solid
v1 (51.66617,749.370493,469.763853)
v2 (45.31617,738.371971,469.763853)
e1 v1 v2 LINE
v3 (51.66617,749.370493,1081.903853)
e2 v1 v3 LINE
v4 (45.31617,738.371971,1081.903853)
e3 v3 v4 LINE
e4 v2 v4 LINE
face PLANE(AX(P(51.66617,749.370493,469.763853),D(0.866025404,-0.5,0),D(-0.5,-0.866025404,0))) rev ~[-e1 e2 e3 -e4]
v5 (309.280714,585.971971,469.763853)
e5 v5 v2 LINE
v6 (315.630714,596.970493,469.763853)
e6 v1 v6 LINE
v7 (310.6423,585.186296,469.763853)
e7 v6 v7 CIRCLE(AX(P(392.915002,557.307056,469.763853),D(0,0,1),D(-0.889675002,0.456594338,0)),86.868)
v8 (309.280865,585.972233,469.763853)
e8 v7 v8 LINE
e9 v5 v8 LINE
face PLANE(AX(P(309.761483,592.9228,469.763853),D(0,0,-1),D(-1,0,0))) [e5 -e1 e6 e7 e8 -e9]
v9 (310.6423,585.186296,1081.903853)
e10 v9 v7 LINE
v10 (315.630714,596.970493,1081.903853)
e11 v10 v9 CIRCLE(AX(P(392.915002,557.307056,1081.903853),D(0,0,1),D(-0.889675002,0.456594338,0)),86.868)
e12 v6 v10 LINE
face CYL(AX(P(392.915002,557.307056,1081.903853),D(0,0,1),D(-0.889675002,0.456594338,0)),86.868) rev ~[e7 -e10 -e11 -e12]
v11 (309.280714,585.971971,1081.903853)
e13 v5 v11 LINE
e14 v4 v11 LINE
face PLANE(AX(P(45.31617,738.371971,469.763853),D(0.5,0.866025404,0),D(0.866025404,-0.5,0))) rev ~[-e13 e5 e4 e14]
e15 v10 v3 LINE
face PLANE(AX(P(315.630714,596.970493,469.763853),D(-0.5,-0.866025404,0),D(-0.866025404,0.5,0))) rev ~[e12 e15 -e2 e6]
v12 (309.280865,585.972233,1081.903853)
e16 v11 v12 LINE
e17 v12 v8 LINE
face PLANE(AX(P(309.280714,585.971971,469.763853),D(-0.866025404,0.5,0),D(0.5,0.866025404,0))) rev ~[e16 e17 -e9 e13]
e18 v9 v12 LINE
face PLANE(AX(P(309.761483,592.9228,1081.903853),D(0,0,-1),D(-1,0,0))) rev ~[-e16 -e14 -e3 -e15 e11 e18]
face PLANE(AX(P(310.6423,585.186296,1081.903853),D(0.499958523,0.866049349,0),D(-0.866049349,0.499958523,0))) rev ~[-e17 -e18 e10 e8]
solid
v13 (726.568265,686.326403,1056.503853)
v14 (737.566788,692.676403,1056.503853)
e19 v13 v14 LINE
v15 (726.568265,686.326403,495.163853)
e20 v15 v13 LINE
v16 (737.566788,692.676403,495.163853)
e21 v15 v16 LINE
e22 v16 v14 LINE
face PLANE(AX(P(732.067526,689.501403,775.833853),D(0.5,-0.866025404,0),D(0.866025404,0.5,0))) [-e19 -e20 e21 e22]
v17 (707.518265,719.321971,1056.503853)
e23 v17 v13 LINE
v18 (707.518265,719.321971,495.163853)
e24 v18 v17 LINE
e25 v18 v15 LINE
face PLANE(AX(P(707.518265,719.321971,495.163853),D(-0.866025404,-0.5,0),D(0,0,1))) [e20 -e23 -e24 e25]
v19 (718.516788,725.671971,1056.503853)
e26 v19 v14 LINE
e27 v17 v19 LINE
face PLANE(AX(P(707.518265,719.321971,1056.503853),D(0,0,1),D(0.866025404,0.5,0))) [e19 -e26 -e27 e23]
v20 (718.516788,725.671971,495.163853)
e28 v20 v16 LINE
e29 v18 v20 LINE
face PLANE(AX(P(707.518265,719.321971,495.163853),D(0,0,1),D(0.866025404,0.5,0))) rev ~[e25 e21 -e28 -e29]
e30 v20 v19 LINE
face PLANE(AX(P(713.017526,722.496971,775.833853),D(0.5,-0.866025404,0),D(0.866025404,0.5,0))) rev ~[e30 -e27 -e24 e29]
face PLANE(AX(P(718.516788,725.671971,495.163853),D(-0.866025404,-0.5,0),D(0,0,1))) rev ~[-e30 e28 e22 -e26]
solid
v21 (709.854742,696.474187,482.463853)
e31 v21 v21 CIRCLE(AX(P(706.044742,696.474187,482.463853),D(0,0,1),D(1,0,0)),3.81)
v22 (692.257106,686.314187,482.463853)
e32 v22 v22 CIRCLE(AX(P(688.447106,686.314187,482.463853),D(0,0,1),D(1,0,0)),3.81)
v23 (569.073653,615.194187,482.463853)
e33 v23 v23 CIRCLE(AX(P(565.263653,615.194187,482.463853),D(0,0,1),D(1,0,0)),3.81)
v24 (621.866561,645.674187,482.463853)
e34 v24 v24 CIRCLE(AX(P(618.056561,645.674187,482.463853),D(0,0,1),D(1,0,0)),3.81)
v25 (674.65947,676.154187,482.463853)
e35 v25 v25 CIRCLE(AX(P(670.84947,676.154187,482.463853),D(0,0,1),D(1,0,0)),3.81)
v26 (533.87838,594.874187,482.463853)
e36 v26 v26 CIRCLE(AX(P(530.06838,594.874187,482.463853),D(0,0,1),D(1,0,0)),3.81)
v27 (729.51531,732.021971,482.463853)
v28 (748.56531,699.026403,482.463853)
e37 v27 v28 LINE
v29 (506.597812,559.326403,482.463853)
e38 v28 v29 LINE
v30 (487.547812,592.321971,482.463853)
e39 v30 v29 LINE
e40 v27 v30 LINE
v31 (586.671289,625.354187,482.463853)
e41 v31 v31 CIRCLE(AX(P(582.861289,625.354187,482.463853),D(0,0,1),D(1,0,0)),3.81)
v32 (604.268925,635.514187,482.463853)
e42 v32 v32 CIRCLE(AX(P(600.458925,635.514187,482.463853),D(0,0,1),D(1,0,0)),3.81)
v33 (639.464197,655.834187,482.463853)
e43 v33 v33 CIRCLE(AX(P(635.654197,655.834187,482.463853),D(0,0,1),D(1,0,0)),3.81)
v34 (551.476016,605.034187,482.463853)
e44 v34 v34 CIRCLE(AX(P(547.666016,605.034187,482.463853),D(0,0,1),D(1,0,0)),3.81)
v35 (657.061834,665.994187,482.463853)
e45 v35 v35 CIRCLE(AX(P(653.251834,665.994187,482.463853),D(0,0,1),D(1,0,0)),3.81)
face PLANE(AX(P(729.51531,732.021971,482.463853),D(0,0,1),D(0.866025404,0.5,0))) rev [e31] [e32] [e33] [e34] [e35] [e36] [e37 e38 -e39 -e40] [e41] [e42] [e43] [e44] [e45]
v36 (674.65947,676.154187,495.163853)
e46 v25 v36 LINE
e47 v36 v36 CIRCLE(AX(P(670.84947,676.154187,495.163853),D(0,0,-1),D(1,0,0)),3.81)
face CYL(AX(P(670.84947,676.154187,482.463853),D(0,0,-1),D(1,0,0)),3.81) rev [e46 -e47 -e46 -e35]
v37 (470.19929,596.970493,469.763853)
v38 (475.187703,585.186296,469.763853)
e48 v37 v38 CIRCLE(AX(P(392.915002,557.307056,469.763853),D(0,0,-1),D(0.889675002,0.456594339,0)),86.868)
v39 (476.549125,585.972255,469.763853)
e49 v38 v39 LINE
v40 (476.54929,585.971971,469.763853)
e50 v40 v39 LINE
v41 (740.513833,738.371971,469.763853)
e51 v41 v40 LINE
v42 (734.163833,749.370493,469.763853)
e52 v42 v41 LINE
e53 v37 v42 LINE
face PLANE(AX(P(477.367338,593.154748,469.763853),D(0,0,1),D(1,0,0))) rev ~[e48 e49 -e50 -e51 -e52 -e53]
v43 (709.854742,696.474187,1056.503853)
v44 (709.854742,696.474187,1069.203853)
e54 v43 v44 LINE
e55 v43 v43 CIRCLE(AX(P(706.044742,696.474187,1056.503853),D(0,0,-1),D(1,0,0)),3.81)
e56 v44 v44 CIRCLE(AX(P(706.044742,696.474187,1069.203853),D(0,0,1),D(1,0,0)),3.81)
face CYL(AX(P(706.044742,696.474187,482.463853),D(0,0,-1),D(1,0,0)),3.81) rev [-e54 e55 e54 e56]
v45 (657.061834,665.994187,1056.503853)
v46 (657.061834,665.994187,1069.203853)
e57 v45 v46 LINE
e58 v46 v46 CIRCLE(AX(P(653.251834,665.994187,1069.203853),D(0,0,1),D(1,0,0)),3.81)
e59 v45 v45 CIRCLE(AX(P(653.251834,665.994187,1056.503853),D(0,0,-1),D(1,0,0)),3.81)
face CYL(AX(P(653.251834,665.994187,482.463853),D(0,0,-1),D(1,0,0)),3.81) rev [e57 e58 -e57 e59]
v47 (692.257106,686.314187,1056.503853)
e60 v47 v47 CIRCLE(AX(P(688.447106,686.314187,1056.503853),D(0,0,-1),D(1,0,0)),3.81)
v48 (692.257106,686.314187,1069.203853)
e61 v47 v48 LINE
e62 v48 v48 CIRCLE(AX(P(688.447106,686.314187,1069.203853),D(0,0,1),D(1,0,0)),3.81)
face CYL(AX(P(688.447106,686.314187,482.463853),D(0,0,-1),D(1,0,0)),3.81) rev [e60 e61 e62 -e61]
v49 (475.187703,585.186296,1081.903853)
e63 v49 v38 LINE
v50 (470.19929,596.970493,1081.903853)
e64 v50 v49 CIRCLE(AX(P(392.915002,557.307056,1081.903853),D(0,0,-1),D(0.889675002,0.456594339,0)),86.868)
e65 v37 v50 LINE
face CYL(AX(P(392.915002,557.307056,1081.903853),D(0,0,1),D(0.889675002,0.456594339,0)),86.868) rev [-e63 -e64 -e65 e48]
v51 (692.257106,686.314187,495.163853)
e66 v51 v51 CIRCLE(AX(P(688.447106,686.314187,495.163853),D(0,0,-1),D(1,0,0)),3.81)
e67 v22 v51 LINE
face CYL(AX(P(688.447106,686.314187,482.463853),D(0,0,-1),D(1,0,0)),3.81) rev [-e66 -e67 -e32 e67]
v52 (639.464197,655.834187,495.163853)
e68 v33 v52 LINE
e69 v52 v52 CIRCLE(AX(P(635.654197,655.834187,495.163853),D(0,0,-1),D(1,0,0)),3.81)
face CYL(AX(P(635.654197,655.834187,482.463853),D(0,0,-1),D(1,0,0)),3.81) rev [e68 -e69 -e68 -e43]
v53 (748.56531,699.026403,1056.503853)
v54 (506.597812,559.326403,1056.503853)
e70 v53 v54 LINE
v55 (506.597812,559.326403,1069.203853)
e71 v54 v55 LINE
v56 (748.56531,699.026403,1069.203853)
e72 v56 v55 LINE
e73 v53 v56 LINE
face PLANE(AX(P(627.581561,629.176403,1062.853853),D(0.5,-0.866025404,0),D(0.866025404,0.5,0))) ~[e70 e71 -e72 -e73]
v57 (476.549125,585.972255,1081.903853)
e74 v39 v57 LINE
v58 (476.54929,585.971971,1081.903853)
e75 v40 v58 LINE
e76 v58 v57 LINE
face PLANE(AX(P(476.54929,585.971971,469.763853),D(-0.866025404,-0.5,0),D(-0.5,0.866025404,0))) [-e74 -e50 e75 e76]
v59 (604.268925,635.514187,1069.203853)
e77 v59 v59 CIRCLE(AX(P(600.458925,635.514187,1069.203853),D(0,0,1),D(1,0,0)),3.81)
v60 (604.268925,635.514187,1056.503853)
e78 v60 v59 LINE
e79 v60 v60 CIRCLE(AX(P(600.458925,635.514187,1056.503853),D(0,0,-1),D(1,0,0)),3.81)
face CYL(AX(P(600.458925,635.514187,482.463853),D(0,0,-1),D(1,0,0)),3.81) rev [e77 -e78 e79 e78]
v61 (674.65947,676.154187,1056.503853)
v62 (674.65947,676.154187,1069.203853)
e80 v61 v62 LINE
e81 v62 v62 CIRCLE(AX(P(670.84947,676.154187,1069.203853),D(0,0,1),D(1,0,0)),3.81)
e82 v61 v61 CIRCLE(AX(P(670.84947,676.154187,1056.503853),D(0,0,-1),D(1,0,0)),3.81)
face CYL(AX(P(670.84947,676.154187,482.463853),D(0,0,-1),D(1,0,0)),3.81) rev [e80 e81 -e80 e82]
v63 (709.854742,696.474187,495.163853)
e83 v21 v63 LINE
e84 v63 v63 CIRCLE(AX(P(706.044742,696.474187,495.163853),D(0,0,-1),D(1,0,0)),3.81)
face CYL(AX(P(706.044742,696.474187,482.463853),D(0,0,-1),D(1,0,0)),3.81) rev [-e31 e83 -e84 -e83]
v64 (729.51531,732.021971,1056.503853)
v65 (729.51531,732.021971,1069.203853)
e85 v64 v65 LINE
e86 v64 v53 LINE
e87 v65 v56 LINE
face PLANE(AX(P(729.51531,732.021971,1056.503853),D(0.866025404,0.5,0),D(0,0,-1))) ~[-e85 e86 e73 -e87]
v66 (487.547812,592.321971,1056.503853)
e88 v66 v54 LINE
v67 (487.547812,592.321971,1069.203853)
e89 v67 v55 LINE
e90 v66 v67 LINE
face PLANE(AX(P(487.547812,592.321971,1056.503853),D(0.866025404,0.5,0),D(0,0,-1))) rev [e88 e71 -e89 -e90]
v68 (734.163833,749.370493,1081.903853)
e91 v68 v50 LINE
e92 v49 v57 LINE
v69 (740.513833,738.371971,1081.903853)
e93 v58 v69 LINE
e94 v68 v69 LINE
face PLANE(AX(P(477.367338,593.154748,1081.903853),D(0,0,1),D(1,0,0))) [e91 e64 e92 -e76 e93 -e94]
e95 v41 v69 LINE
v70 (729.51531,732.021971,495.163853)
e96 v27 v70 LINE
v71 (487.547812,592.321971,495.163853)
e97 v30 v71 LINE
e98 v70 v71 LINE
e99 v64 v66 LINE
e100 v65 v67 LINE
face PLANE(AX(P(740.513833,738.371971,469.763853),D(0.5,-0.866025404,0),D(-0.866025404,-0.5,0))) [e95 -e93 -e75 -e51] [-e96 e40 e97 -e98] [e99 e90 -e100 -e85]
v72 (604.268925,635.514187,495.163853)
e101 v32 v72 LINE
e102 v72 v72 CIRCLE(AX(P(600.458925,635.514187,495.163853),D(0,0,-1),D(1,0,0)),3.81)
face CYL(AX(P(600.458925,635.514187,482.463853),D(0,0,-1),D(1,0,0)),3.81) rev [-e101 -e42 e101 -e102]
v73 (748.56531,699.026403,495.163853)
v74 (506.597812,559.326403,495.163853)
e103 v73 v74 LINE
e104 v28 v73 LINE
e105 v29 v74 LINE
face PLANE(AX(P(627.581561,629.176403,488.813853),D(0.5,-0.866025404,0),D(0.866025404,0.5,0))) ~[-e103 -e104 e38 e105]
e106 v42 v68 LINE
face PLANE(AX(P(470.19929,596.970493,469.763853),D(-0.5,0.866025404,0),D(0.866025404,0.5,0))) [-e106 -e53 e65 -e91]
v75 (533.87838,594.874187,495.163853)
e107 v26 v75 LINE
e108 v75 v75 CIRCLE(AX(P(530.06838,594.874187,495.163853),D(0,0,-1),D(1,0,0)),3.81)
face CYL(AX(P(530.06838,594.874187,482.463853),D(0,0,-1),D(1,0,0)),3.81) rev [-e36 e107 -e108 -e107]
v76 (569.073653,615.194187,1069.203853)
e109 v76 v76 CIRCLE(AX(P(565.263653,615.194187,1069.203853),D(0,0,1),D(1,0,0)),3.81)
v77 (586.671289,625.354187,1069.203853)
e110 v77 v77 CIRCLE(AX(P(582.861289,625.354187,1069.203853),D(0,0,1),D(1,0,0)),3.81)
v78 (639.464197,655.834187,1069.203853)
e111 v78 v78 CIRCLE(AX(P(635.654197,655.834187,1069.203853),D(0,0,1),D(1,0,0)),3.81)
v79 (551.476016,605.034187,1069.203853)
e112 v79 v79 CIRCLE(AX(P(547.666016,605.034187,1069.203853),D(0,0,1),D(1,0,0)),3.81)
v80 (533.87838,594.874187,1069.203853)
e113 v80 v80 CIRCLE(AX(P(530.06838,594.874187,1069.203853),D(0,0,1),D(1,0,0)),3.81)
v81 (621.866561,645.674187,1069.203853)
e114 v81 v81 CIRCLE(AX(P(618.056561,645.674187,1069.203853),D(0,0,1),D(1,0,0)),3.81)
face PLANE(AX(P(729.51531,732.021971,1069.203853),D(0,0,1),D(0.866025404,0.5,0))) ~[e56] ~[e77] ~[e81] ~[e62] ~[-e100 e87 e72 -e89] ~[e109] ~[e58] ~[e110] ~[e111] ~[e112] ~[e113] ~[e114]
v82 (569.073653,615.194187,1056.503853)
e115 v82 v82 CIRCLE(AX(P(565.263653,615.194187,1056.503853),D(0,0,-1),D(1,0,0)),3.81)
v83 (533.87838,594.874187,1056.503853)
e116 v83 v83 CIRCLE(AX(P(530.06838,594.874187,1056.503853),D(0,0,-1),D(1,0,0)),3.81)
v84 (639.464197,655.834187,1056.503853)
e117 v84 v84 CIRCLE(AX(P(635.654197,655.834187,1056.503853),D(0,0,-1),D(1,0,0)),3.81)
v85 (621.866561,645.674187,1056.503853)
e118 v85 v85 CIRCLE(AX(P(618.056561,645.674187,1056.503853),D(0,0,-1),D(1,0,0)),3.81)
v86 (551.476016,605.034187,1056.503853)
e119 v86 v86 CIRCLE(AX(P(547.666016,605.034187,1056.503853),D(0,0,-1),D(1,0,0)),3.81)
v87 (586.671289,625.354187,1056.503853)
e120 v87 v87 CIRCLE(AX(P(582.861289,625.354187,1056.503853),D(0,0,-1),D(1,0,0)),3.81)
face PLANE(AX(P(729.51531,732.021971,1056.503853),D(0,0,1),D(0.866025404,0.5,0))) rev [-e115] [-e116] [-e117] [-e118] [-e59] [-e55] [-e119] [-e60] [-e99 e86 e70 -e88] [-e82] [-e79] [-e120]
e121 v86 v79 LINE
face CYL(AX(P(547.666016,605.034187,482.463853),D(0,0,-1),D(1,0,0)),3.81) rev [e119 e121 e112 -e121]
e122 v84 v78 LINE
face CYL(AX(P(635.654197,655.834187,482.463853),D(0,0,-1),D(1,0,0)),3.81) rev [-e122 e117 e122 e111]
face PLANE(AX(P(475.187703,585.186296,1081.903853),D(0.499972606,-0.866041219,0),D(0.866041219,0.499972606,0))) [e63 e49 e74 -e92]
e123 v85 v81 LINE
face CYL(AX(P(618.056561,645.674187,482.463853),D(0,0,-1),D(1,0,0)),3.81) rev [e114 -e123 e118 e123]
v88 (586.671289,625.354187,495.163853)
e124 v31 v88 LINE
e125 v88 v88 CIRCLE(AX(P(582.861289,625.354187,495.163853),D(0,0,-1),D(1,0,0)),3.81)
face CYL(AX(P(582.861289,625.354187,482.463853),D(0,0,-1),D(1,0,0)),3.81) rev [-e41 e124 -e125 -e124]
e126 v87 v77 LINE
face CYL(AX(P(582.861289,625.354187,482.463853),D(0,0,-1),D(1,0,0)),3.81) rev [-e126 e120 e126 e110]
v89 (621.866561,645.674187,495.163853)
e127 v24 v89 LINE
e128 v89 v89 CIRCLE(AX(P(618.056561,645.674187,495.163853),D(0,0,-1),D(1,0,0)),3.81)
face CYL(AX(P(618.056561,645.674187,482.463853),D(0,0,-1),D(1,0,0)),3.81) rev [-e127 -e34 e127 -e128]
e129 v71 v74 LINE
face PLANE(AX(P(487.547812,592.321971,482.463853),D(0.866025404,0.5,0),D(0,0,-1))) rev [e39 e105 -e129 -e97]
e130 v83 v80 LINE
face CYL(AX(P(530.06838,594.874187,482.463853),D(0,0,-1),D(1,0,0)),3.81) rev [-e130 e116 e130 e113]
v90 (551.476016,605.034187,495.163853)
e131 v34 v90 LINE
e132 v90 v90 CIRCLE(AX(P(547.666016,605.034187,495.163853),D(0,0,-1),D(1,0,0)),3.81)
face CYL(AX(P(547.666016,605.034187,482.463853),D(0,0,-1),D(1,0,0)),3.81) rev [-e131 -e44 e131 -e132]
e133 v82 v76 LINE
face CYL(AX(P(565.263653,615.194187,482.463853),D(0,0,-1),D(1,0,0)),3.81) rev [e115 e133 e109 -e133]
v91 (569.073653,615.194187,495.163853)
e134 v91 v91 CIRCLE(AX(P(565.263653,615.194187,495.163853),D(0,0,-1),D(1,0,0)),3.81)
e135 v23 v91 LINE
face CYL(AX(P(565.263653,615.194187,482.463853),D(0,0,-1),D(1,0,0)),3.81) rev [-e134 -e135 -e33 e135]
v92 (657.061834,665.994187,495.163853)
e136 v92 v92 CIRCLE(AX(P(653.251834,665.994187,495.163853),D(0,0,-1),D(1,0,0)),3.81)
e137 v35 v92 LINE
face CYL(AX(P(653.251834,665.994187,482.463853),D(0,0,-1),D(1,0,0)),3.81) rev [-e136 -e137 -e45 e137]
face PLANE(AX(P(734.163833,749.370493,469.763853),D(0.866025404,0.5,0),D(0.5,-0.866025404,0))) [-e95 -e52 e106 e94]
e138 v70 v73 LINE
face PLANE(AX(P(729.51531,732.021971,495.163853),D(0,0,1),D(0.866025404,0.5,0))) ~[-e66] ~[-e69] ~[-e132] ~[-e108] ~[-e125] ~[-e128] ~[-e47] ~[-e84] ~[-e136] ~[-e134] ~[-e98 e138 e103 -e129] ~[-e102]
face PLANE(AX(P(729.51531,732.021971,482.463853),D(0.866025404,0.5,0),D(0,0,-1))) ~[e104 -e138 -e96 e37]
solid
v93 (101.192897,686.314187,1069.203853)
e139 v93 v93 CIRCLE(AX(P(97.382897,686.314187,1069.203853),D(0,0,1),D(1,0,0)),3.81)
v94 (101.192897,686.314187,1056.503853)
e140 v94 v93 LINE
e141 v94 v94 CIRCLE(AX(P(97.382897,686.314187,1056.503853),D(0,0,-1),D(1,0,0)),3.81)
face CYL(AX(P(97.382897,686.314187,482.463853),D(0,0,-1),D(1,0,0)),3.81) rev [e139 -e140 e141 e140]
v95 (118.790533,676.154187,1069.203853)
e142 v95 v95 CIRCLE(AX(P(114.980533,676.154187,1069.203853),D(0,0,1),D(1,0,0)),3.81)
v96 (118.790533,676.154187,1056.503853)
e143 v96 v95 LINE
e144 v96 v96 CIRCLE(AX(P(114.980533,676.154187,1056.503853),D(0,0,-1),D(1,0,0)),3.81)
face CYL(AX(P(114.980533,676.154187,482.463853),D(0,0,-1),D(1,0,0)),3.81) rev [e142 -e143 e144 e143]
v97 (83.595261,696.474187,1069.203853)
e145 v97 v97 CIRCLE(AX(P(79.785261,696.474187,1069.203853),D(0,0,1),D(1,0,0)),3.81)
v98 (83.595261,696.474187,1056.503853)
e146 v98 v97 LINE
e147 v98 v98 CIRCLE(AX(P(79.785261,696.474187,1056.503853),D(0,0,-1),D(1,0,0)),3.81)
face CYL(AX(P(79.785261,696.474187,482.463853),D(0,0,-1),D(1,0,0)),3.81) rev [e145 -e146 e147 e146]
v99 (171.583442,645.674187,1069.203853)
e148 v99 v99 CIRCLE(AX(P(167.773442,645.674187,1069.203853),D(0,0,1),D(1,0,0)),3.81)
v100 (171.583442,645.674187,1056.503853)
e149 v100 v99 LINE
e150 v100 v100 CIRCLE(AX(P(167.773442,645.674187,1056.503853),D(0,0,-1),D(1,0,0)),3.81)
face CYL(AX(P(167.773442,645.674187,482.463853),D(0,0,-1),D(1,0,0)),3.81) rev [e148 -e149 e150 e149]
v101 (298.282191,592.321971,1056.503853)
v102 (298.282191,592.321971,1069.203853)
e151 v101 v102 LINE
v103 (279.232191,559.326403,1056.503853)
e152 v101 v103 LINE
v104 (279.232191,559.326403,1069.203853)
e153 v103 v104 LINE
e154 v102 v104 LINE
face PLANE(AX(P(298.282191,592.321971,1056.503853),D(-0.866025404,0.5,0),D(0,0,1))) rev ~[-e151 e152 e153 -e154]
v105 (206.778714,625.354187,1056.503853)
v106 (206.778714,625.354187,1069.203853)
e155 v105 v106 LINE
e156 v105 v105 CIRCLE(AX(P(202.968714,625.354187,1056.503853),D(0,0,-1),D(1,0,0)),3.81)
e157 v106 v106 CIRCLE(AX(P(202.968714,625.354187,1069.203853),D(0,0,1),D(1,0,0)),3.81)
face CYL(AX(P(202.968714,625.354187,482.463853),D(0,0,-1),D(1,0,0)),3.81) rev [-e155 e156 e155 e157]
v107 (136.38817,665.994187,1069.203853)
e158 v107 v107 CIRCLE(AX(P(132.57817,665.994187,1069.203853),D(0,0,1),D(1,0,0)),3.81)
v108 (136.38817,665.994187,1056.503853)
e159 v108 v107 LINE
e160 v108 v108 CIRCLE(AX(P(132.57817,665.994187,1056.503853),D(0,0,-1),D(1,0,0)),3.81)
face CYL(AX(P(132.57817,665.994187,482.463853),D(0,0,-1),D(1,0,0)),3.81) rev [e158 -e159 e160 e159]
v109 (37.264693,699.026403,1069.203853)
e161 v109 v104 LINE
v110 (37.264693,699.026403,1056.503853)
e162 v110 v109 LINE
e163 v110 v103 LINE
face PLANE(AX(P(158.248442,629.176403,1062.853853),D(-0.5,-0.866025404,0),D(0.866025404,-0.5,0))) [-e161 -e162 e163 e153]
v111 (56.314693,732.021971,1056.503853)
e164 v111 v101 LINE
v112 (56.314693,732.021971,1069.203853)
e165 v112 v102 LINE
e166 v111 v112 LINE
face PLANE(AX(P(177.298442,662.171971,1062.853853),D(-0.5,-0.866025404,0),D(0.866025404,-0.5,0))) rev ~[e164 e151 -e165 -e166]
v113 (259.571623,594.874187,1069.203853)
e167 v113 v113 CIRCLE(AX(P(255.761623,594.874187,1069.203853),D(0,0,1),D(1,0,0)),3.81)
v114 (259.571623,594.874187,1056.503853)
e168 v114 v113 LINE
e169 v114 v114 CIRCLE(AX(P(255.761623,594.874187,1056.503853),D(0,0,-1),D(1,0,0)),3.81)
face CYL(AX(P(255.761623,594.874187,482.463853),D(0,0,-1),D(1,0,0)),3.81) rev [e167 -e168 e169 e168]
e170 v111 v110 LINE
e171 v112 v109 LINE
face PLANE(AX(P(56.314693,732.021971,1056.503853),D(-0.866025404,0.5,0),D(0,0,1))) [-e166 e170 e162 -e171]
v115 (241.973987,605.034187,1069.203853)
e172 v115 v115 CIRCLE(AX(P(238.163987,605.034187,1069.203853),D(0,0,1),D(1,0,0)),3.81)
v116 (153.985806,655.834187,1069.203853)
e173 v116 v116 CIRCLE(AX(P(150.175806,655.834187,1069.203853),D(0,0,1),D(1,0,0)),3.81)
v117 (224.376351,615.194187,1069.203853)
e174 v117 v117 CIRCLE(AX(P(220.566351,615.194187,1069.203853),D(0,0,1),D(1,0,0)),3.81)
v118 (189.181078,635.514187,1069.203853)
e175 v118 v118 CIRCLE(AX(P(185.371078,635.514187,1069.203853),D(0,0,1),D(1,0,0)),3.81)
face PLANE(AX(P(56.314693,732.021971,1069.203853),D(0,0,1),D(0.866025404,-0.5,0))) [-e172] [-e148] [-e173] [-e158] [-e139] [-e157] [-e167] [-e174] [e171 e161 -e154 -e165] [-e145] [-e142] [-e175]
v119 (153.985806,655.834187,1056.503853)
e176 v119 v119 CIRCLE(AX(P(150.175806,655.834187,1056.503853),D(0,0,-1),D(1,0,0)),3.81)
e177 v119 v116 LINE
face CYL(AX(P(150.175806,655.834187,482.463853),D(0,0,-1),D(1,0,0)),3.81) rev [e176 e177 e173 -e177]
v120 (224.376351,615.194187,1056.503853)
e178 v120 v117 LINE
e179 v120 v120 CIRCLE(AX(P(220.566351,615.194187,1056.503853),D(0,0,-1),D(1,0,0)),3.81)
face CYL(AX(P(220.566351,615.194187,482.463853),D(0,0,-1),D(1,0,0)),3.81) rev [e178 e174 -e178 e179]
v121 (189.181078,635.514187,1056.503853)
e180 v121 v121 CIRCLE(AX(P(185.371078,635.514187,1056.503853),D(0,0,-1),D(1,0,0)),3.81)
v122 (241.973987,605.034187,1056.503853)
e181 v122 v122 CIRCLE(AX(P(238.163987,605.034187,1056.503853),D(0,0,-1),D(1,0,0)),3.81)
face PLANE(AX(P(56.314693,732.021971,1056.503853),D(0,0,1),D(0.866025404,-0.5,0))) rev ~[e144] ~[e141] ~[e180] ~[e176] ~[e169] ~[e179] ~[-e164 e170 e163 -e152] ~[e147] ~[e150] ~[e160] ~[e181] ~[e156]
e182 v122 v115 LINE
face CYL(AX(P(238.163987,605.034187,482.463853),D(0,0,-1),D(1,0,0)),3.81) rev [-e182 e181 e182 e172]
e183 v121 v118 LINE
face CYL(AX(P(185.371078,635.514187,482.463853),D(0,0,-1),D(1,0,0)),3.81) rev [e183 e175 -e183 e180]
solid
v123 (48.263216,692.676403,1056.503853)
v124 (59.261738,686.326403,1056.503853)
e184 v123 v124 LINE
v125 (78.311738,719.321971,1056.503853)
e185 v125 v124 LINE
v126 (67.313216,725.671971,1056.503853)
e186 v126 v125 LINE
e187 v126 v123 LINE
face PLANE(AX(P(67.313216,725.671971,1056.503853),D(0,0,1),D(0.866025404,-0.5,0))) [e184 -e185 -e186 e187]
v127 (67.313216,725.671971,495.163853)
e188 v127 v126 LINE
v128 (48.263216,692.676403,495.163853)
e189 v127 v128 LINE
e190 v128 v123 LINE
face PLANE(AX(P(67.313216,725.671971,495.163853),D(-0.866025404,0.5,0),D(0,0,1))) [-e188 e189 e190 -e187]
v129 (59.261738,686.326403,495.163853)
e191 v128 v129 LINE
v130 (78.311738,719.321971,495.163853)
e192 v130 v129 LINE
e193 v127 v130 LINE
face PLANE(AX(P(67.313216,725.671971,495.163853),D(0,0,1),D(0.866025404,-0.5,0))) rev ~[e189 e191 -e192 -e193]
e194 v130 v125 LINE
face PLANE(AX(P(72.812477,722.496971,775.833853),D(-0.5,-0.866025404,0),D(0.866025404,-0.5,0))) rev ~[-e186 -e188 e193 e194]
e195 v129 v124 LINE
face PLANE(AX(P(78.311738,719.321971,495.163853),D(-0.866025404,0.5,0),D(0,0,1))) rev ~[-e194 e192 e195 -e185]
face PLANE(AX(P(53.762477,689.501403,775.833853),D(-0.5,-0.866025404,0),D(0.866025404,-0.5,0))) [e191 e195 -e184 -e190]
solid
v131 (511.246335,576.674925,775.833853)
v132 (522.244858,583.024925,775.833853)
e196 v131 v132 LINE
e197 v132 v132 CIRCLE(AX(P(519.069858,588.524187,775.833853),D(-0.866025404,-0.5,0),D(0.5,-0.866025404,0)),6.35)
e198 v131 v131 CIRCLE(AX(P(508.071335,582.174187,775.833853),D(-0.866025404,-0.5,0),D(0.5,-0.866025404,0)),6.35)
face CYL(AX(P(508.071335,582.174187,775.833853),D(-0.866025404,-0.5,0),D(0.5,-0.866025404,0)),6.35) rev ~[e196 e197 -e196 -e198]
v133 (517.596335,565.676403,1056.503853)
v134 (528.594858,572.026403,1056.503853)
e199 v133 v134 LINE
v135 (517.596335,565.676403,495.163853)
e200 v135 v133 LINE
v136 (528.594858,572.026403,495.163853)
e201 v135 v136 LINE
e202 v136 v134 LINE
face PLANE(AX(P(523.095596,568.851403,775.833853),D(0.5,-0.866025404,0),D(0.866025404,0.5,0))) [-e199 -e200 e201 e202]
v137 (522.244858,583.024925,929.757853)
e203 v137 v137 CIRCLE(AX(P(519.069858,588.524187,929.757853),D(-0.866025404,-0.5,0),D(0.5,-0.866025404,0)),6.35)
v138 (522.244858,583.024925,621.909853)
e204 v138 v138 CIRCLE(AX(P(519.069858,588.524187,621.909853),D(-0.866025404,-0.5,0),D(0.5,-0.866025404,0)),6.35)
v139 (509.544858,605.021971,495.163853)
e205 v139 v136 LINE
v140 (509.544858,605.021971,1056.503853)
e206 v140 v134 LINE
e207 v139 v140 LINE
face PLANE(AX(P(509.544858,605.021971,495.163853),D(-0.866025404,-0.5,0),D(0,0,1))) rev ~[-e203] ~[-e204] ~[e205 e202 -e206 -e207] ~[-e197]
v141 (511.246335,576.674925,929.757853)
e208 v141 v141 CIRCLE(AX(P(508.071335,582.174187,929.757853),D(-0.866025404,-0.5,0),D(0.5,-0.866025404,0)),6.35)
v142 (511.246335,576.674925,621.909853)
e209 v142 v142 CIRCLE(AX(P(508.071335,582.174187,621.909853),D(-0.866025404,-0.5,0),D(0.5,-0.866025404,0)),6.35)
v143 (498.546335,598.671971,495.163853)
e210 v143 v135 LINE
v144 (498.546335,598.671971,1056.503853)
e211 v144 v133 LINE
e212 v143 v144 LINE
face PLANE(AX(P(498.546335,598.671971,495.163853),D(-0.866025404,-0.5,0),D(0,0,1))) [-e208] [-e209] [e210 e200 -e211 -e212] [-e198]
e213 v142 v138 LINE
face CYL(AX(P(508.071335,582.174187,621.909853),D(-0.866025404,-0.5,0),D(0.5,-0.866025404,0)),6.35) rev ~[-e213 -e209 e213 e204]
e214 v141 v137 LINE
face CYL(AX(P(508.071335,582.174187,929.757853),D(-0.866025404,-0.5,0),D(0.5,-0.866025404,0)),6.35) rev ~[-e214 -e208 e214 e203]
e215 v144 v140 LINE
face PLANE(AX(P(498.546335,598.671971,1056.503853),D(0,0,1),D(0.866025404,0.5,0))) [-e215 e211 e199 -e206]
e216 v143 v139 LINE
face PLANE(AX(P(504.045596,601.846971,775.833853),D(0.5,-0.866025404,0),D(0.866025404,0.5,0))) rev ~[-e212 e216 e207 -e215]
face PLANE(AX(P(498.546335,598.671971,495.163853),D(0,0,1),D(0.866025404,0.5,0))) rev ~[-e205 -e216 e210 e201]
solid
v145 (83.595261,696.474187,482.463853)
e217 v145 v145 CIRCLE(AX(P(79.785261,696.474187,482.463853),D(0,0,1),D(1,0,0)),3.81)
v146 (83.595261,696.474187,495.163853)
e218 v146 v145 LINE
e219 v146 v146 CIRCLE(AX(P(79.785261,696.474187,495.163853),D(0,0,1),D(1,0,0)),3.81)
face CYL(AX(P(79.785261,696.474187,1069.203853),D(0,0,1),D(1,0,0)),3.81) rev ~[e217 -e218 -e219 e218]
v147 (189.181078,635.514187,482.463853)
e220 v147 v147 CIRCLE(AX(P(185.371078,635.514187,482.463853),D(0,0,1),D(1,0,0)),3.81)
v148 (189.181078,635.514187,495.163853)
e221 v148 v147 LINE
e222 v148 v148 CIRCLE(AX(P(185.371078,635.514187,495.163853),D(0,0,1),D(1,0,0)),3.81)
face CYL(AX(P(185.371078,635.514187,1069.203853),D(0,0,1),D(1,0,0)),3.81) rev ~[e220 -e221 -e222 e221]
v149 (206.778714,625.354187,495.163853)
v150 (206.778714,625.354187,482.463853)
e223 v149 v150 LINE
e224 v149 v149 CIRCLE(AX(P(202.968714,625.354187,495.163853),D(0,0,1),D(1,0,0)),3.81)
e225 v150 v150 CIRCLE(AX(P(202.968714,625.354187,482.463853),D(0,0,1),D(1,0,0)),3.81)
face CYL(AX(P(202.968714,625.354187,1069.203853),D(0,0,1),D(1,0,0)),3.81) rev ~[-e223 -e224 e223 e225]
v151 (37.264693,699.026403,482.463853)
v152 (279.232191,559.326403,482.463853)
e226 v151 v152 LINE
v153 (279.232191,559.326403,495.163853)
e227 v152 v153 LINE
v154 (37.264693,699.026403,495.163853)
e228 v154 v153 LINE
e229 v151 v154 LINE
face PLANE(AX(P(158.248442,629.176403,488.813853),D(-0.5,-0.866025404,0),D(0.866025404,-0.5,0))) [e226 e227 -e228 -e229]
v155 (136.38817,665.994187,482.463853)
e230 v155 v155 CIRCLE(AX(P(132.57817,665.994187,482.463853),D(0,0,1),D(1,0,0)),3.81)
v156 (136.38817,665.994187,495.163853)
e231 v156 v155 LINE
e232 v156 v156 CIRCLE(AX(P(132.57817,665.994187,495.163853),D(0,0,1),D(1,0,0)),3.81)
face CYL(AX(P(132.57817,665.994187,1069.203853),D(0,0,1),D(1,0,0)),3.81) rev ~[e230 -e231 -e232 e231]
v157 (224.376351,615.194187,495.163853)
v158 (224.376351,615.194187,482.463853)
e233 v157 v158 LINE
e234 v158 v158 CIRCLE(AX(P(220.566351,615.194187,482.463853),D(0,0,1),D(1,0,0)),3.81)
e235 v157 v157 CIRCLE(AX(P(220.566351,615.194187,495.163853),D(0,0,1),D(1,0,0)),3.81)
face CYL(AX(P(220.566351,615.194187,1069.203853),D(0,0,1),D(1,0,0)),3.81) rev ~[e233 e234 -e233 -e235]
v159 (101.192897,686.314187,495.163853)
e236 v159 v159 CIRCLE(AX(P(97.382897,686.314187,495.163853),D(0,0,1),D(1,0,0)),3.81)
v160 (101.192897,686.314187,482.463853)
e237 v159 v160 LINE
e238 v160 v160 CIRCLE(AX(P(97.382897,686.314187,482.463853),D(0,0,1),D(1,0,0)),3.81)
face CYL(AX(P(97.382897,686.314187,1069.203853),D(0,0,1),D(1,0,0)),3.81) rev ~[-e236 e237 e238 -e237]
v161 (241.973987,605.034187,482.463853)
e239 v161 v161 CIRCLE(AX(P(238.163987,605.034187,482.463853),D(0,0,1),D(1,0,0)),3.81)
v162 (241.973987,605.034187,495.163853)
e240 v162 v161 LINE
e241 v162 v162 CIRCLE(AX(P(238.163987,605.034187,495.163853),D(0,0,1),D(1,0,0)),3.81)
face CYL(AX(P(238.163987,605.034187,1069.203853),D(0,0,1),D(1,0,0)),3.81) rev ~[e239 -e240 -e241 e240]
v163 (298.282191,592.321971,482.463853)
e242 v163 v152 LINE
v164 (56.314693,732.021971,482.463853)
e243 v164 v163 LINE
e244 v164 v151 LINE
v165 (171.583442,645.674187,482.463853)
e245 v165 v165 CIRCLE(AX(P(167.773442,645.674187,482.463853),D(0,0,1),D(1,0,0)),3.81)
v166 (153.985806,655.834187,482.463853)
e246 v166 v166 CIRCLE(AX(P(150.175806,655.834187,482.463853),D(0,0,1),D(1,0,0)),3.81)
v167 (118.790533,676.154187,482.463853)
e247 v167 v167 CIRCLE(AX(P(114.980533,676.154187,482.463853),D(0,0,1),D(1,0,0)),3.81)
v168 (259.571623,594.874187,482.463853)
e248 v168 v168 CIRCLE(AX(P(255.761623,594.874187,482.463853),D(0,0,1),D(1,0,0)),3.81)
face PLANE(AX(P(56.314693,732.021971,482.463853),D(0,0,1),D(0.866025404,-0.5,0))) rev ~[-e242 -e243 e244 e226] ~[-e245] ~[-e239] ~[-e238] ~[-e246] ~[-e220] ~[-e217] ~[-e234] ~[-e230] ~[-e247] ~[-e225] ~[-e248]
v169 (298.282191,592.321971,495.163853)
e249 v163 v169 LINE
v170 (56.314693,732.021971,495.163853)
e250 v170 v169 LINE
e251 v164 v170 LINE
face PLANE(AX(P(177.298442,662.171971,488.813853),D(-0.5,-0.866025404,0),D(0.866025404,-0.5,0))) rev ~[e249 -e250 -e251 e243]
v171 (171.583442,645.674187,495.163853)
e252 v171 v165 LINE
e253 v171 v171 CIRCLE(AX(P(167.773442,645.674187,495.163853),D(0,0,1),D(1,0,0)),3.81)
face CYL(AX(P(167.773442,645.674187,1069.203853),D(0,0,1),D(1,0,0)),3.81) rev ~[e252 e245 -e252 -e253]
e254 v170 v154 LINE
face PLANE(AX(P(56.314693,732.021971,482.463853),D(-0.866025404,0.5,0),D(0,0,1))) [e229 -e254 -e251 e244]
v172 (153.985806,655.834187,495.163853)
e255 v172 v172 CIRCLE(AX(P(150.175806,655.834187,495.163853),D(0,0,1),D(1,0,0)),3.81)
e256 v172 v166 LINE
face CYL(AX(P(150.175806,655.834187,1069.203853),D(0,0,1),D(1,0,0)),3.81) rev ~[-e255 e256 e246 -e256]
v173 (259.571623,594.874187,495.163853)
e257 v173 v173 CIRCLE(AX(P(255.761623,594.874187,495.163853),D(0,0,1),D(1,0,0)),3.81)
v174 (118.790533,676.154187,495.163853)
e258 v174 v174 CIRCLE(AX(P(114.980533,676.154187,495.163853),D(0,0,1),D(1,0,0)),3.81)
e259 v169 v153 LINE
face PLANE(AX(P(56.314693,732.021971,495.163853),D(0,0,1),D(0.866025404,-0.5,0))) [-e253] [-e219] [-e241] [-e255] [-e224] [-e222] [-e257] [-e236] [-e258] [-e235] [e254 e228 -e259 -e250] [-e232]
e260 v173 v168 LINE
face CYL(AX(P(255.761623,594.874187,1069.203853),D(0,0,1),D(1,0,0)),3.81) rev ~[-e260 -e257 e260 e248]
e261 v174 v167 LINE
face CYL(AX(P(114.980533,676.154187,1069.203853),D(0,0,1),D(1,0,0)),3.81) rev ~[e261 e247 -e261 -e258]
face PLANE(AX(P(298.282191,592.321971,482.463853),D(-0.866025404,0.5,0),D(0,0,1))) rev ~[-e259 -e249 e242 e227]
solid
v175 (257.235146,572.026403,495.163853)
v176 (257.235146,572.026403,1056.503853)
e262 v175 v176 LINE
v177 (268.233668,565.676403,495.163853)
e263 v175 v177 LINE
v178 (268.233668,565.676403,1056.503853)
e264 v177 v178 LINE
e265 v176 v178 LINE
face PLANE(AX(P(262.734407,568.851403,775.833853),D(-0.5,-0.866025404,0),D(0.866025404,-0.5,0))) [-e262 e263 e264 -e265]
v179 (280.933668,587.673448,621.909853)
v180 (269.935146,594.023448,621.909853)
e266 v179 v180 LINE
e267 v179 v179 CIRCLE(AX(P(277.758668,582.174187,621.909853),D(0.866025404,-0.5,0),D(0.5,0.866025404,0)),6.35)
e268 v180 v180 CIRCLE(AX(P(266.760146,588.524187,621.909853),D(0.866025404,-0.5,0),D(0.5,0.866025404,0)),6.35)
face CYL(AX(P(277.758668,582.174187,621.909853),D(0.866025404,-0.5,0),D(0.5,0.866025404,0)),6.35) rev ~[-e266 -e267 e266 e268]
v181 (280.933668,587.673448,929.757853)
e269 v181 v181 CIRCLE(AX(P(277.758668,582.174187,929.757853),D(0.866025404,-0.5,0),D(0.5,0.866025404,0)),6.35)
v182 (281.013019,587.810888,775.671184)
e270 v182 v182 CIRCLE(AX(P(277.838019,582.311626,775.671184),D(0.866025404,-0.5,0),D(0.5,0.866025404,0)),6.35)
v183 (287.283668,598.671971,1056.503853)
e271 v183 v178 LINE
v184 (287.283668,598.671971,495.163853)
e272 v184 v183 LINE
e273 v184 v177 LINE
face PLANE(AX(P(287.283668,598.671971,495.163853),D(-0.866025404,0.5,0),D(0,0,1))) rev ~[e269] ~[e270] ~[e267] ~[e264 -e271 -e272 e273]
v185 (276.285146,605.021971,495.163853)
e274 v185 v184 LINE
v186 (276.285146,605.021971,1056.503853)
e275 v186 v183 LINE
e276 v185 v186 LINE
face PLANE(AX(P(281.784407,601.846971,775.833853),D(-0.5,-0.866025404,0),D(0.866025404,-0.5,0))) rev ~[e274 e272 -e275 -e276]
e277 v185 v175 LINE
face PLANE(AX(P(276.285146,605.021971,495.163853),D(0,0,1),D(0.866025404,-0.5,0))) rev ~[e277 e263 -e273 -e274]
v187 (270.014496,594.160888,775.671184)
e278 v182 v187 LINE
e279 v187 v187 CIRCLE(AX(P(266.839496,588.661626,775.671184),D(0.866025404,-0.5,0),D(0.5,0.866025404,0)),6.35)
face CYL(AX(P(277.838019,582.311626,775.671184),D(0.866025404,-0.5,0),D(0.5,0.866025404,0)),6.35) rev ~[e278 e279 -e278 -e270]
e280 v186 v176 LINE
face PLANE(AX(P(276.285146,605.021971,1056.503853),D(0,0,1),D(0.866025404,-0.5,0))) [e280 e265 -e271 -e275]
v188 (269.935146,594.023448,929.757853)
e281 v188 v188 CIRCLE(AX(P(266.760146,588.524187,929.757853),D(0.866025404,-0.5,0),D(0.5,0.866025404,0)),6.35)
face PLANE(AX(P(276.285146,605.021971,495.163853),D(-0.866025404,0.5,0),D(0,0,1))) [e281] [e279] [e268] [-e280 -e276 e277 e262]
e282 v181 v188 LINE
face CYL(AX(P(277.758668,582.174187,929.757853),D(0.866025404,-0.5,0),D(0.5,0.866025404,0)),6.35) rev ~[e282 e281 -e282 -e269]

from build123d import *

# Parameters (mm, degrees)
BOSS_EXTRUDE1_DEPTH        = 273.05
BOSS_EXTRUDE1_DEPTH_BACK   = 339.09
BOSS_EXTRUDE1_2_DEPTH      = 273.05
BOSS_EXTRUDE1_2_DEPTH_BACK = 339.09
SKETCH2_W                  = 279.4
SKETCH2_H                  = 12.7
BOSS_EXTRUDE2_DEPTH        = 38.1
BOSS_EXTRUDE2_2_DEPTH      = 38.1
SKETCH3_W                  = 12.7
SKETCH3_H                  = 561.34
BOSS_EXTRUDE3_DEPTH        = 38.1
BOSS_EXTRUDE3_2_DEPTH      = 38.1
SKETCH5_W                  = 12.7
SKETCH5_H                  = 561.34
BOSS_EXTRUDE4_DEPTH        = 38.1
BOSS_EXTRUDE4_2_DEPTH      = 38.1
SKETCH6_R                  = 6.35
CUT_EXTRUDE1_DEPTH         = 12.7
SKETCH7_R                  = 6.35
CUT_EXTRUDE2_DEPTH         = 12.7
UNNECESSARY_DETAIL_DEPTH   = 612.14
CUT_EXTRUDE3_START         = -586.74
SKETCH9_R                  = 3.81
CUT_EXTRUDE3_DEPTH         = 586.74


with BuildPart() as part:
    # Sketch1 → Boss-Extrude1 (new, two sides: drawn at the far end of the back side and taken through both)
    with BuildSketch(Plane(origin=(392.915001613, 557.307056284, 808.85385267), x_dir=(1, 0, 0), z_dir=(0, 0, 1)).offset(-BOSS_EXTRUDE1_DEPTH_BACK)):
        Polygon((77.284288108, 39.663437012), (341.248831182, 192.063437012), (347.598831182, 181.064914384), (83.634288108, 28.664914384), align=None)
    extrude(amount=BOSS_EXTRUDE1_DEPTH + BOSS_EXTRUDE1_DEPTH_BACK)


with BuildPart() as body_2:
    # Sketch1 → Boss-Extrude1 2 (new, two sides: drawn at the far end of the back side and taken through both)
    with BuildSketch(Plane(origin=(392.915001613, 557.307056284, 808.85385267), x_dir=(1, 0, 0), z_dir=(0, 0, 1)).offset(-BOSS_EXTRUDE1_2_DEPTH_BACK)):
        Polygon((-77.284288108, 39.663437012), (-341.248831182, 192.063437012), (-347.598831182, 181.064914384), (-83.634288108, 28.664914384), align=None)
    extrude(amount=BOSS_EXTRUDE1_2_DEPTH + BOSS_EXTRUDE1_2_DEPTH_BACK)


with BuildPart() as body_3:
    # Sketch2 → Boss-Extrude2 (new body)
    with BuildSketch(Plane(origin=(331.053484628, 573.401455399, 0), x_dir=(0.8660254037844372, -0.5000000000000027, 0), z_dir=(-0.5000000000000027, -0.8660254037844372, 0))):
        with Locations((-177.541030539, 1062.85385267)):
            Rectangle(SKETCH2_W, SKETCH2_H)
    boss_extrude2 = extrude(amount=BOSS_EXTRUDE2_DEPTH)


with BuildPart() as body_4:
    # Sketch2 → Boss-Extrude2 2 (new body)
    with BuildSketch(Plane(origin=(331.053484628, 573.401455399, 0), x_dir=(0.8660254037844372, -0.5000000000000027, 0), z_dir=(-0.5000000000000027, -0.8660254037844372, 0))):
        with Locations((-177.541030539, 488.81385267)):
            Rectangle(SKETCH2_W, SKETCH2_H)
    boss_extrude2_2 = extrude(amount=BOSS_EXTRUDE2_2_DEPTH)


with BuildPart() as body_5:
    # Sketch3 → Boss-Extrude3 (new body)
    with BuildSketch(Plane(origin=(331.053484628, 573.401455399, 0), x_dir=(0.8660254037844372, -0.5000000000000027, 0), z_dir=(-0.5000000000000027, -0.8660254037844372, 0))):
        with Locations((-56.891030539, 775.83385267)):
            Rectangle(SKETCH3_W, SKETCH3_H)
    extrude(amount=BOSS_EXTRUDE3_DEPTH)

    # Sketch6 → Cut-Extrude1 (cut)
    with BuildSketch(Plane(origin=(-43.76981638, 25.270515269, 0), x_dir=(0, 0, -1), z_dir=(0.866025403784437, -0.5000000000000028, 0))):
        with Locations(Location((-775.671183514, 643.215670872, 0), (0, 0, 90))):
            Circle(SKETCH6_R)
        with Locations(Location((-621.90985267, 643.056969256, 0), (0, 0, 90))):
            Circle(SKETCH6_R)
        with Locations(Location((-929.75785267, 643.056969256, 0), (0, 0, 90))):
            Circle(SKETCH6_R)
    extrude(amount=-CUT_EXTRUDE1_DEPTH, mode=Mode.SUBTRACT)


with BuildPart() as body_6:
    # Sketch3 → Boss-Extrude3 2 (new body)
    with BuildSketch(Plane(origin=(331.053484628, 573.401455399, 0), x_dir=(0.8660254037844372, -0.5000000000000027, 0), z_dir=(-0.5000000000000027, -0.8660254037844372, 0))):
        with Locations((-298.191030539, 775.83385267)):
            Rectangle(SKETCH3_W, SKETCH3_H)
    extrude(amount=BOSS_EXTRUDE3_2_DEPTH)


with BuildPart() as part_1:
    add(part.part)

    # Mirror1: Boss-Extrude2, Boss-Extrude2 2 across plane
    add(boss_extrude2.mirror(Plane(origin=(392.915001613, 0, 0), x_dir=(0, 0, 1), z_dir=(1, 0, 0))))
    add(boss_extrude2_2.mirror(Plane(origin=(392.915001613, 0, 0), x_dir=(0, 0, 1), z_dir=(1, 0, 0))))

    add(body_2.part)  # Unnecessary Detail merges body 2
    # Sketch8 → Unnecessary Detail (add)
    with BuildSketch(Plane.XY.offset(1081.90385267)):
        with BuildLine():
            Line((310.642299926, 585.186295534), (303.796277895, 589.138411043))
            Line((303.796277895, 589.138411043), (309.256490029, 600.650652935))
            Line((309.256490029, 600.650652935), (315.630713504, 596.970493296))
            ThreePointArc((315.630713504, 596.970493296), (312.919219991, 591.170374885), (310.642299926, 585.186295534))
        make_face()
        with BuildLine():
            Line((475.187703299, 585.186295534), (485.552882068, 591.170197133))
            Line((485.552882068, 591.170197133), (477.229929452, 601.029635038))
            Line((477.229929452, 601.029635038), (470.199289721, 596.970493296))
            ThreePointArc((470.199289721, 596.970493296), (472.910783235, 591.170374885), (475.187703299, 585.186295534))
        make_face()
    extrude(amount=-UNNECESSARY_DETAIL_DEPTH)


with BuildPart() as body_7:
    # Sketch5 → Boss-Extrude4 (new body)
    with BuildSketch(Plane(origin=(-134.595983822, 233.127082474, 0), x_dir=(0.8660254037844386, 0.5000000000000002, 0), z_dir=(0.5000000000000001, -0.8660254037844385, 0))):
        with Locations((737.439776387, 775.83385267)):
            Rectangle(SKETCH5_W, SKETCH5_H)
    extrude(amount=BOSS_EXTRUDE4_DEPTH)

    # Sketch7 → Cut-Extrude2 (cut)
    with BuildSketch(Plane(origin=(633.142318799, 365.544888194, 0), x_dir=(0, 0, 1), z_dir=(-0.8660254037844385, -0.5000000000000003, 0))):
        with Locations(Location((775.83385267, 250.141967644, 0), (0, 0, 270))):
            Circle(SKETCH7_R)
        with Locations(Location((929.75785267, 250.141967644, 0), (0, 0, 270))):
            Circle(SKETCH7_R)
        with Locations(Location((621.90985267, 250.141967644, 0), (0, 0, 270))):
            Circle(SKETCH7_R)
    extrude(amount=-CUT_EXTRUDE2_DEPTH, mode=Mode.SUBTRACT)


with BuildPart() as body_8:
    # Sketch5 → Boss-Extrude4 2 (new body)
    with BuildSketch(Plane(origin=(-134.595983822, 233.127082474, 0), x_dir=(0.8660254037844386, 0.5000000000000002, 0), z_dir=(0.5000000000000001, -0.8660254037844385, 0))):
        with Locations((978.739776387, 775.83385267)):
            Rectangle(SKETCH5_W, SKETCH5_H)
    extrude(amount=BOSS_EXTRUDE4_2_DEPTH)


with BuildPart() as cut_extrude3_tool:
    # Sketch9 → Cut-Extrude3 (new body)
    with BuildSketch(Plane.XY.offset(1069.20385267).offset(CUT_EXTRUDE3_START)):
        with Locations((255.761622992, 594.874186726)):
            Circle(SKETCH9_R)
        with Locations((238.163986787, 605.034186726)):
            Circle(SKETCH9_R)
        with Locations((220.566350582, 615.194186726)):
            Circle(SKETCH9_R)
        with Locations((202.968714377, 625.354186726)):
            Circle(SKETCH9_R)
        with Locations((185.371078173, 635.514186726)):
            Circle(SKETCH9_R)
        with Locations((167.773441968, 645.674186726)):
            Circle(SKETCH9_R)
        with Locations((150.175805763, 655.834186726)):
            Circle(SKETCH9_R)
        with Locations((132.578169558, 665.994186726)):
            Circle(SKETCH9_R)
        with Locations((114.980533353, 676.154186726)):
            Circle(SKETCH9_R)
        with Locations((97.382897148, 686.314186726)):
            Circle(SKETCH9_R)
        with Locations((79.785260943, 696.474186726)):
            Circle(SKETCH9_R)
        with Locations((706.044742282, 696.474186726)):
            Circle(SKETCH9_R)
        with Locations((688.447106077, 686.314186726)):
            Circle(SKETCH9_R)
        with Locations((670.849469872, 676.154186726)):
            Circle(SKETCH9_R)
        with Locations((653.251833667, 665.994186726)):
            Circle(SKETCH9_R)
        with Locations((635.654197462, 655.834186726)):
            Circle(SKETCH9_R)
        with Locations((618.056561257, 645.674186726)):
            Circle(SKETCH9_R)
        with Locations((600.458925052, 635.514186726)):
            Circle(SKETCH9_R)
        with Locations((582.861288848, 625.354186726)):
            Circle(SKETCH9_R)
        with Locations((565.263652643, 615.194186726)):
            Circle(SKETCH9_R)
        with Locations((547.666016438, 605.034186726)):
            Circle(SKETCH9_R)
        with Locations((530.068380233, 594.874186726)):
            Circle(SKETCH9_R)
    cut_extrude3 = extrude(amount=CUT_EXTRUDE3_DEPTH)


with BuildPart() as part_2:
    add(part_1.part)

    # Cut-Extrude3: cut by cut_extrude3_tool
    add(cut_extrude3_tool.part, mode=Mode.SUBTRACT)


with BuildPart() as body_3_1:
    add(body_3.part)

    # Cut-Extrude3: cut by cut_extrude3_tool
    add(cut_extrude3_tool.part, mode=Mode.SUBTRACT)


with BuildPart() as body_4_1:
    add(body_4.part)

    # Mirror2: Cut-Extrude3 across plane
    add(cut_extrude3.mirror(Plane.XY.offset(775.83385267)), mode=Mode.SUBTRACT)


solid = Compound([body_5.part, body_6.part, body_7.part, body_8.part, part_2.part, body_3_1.part, body_4_1.part])
